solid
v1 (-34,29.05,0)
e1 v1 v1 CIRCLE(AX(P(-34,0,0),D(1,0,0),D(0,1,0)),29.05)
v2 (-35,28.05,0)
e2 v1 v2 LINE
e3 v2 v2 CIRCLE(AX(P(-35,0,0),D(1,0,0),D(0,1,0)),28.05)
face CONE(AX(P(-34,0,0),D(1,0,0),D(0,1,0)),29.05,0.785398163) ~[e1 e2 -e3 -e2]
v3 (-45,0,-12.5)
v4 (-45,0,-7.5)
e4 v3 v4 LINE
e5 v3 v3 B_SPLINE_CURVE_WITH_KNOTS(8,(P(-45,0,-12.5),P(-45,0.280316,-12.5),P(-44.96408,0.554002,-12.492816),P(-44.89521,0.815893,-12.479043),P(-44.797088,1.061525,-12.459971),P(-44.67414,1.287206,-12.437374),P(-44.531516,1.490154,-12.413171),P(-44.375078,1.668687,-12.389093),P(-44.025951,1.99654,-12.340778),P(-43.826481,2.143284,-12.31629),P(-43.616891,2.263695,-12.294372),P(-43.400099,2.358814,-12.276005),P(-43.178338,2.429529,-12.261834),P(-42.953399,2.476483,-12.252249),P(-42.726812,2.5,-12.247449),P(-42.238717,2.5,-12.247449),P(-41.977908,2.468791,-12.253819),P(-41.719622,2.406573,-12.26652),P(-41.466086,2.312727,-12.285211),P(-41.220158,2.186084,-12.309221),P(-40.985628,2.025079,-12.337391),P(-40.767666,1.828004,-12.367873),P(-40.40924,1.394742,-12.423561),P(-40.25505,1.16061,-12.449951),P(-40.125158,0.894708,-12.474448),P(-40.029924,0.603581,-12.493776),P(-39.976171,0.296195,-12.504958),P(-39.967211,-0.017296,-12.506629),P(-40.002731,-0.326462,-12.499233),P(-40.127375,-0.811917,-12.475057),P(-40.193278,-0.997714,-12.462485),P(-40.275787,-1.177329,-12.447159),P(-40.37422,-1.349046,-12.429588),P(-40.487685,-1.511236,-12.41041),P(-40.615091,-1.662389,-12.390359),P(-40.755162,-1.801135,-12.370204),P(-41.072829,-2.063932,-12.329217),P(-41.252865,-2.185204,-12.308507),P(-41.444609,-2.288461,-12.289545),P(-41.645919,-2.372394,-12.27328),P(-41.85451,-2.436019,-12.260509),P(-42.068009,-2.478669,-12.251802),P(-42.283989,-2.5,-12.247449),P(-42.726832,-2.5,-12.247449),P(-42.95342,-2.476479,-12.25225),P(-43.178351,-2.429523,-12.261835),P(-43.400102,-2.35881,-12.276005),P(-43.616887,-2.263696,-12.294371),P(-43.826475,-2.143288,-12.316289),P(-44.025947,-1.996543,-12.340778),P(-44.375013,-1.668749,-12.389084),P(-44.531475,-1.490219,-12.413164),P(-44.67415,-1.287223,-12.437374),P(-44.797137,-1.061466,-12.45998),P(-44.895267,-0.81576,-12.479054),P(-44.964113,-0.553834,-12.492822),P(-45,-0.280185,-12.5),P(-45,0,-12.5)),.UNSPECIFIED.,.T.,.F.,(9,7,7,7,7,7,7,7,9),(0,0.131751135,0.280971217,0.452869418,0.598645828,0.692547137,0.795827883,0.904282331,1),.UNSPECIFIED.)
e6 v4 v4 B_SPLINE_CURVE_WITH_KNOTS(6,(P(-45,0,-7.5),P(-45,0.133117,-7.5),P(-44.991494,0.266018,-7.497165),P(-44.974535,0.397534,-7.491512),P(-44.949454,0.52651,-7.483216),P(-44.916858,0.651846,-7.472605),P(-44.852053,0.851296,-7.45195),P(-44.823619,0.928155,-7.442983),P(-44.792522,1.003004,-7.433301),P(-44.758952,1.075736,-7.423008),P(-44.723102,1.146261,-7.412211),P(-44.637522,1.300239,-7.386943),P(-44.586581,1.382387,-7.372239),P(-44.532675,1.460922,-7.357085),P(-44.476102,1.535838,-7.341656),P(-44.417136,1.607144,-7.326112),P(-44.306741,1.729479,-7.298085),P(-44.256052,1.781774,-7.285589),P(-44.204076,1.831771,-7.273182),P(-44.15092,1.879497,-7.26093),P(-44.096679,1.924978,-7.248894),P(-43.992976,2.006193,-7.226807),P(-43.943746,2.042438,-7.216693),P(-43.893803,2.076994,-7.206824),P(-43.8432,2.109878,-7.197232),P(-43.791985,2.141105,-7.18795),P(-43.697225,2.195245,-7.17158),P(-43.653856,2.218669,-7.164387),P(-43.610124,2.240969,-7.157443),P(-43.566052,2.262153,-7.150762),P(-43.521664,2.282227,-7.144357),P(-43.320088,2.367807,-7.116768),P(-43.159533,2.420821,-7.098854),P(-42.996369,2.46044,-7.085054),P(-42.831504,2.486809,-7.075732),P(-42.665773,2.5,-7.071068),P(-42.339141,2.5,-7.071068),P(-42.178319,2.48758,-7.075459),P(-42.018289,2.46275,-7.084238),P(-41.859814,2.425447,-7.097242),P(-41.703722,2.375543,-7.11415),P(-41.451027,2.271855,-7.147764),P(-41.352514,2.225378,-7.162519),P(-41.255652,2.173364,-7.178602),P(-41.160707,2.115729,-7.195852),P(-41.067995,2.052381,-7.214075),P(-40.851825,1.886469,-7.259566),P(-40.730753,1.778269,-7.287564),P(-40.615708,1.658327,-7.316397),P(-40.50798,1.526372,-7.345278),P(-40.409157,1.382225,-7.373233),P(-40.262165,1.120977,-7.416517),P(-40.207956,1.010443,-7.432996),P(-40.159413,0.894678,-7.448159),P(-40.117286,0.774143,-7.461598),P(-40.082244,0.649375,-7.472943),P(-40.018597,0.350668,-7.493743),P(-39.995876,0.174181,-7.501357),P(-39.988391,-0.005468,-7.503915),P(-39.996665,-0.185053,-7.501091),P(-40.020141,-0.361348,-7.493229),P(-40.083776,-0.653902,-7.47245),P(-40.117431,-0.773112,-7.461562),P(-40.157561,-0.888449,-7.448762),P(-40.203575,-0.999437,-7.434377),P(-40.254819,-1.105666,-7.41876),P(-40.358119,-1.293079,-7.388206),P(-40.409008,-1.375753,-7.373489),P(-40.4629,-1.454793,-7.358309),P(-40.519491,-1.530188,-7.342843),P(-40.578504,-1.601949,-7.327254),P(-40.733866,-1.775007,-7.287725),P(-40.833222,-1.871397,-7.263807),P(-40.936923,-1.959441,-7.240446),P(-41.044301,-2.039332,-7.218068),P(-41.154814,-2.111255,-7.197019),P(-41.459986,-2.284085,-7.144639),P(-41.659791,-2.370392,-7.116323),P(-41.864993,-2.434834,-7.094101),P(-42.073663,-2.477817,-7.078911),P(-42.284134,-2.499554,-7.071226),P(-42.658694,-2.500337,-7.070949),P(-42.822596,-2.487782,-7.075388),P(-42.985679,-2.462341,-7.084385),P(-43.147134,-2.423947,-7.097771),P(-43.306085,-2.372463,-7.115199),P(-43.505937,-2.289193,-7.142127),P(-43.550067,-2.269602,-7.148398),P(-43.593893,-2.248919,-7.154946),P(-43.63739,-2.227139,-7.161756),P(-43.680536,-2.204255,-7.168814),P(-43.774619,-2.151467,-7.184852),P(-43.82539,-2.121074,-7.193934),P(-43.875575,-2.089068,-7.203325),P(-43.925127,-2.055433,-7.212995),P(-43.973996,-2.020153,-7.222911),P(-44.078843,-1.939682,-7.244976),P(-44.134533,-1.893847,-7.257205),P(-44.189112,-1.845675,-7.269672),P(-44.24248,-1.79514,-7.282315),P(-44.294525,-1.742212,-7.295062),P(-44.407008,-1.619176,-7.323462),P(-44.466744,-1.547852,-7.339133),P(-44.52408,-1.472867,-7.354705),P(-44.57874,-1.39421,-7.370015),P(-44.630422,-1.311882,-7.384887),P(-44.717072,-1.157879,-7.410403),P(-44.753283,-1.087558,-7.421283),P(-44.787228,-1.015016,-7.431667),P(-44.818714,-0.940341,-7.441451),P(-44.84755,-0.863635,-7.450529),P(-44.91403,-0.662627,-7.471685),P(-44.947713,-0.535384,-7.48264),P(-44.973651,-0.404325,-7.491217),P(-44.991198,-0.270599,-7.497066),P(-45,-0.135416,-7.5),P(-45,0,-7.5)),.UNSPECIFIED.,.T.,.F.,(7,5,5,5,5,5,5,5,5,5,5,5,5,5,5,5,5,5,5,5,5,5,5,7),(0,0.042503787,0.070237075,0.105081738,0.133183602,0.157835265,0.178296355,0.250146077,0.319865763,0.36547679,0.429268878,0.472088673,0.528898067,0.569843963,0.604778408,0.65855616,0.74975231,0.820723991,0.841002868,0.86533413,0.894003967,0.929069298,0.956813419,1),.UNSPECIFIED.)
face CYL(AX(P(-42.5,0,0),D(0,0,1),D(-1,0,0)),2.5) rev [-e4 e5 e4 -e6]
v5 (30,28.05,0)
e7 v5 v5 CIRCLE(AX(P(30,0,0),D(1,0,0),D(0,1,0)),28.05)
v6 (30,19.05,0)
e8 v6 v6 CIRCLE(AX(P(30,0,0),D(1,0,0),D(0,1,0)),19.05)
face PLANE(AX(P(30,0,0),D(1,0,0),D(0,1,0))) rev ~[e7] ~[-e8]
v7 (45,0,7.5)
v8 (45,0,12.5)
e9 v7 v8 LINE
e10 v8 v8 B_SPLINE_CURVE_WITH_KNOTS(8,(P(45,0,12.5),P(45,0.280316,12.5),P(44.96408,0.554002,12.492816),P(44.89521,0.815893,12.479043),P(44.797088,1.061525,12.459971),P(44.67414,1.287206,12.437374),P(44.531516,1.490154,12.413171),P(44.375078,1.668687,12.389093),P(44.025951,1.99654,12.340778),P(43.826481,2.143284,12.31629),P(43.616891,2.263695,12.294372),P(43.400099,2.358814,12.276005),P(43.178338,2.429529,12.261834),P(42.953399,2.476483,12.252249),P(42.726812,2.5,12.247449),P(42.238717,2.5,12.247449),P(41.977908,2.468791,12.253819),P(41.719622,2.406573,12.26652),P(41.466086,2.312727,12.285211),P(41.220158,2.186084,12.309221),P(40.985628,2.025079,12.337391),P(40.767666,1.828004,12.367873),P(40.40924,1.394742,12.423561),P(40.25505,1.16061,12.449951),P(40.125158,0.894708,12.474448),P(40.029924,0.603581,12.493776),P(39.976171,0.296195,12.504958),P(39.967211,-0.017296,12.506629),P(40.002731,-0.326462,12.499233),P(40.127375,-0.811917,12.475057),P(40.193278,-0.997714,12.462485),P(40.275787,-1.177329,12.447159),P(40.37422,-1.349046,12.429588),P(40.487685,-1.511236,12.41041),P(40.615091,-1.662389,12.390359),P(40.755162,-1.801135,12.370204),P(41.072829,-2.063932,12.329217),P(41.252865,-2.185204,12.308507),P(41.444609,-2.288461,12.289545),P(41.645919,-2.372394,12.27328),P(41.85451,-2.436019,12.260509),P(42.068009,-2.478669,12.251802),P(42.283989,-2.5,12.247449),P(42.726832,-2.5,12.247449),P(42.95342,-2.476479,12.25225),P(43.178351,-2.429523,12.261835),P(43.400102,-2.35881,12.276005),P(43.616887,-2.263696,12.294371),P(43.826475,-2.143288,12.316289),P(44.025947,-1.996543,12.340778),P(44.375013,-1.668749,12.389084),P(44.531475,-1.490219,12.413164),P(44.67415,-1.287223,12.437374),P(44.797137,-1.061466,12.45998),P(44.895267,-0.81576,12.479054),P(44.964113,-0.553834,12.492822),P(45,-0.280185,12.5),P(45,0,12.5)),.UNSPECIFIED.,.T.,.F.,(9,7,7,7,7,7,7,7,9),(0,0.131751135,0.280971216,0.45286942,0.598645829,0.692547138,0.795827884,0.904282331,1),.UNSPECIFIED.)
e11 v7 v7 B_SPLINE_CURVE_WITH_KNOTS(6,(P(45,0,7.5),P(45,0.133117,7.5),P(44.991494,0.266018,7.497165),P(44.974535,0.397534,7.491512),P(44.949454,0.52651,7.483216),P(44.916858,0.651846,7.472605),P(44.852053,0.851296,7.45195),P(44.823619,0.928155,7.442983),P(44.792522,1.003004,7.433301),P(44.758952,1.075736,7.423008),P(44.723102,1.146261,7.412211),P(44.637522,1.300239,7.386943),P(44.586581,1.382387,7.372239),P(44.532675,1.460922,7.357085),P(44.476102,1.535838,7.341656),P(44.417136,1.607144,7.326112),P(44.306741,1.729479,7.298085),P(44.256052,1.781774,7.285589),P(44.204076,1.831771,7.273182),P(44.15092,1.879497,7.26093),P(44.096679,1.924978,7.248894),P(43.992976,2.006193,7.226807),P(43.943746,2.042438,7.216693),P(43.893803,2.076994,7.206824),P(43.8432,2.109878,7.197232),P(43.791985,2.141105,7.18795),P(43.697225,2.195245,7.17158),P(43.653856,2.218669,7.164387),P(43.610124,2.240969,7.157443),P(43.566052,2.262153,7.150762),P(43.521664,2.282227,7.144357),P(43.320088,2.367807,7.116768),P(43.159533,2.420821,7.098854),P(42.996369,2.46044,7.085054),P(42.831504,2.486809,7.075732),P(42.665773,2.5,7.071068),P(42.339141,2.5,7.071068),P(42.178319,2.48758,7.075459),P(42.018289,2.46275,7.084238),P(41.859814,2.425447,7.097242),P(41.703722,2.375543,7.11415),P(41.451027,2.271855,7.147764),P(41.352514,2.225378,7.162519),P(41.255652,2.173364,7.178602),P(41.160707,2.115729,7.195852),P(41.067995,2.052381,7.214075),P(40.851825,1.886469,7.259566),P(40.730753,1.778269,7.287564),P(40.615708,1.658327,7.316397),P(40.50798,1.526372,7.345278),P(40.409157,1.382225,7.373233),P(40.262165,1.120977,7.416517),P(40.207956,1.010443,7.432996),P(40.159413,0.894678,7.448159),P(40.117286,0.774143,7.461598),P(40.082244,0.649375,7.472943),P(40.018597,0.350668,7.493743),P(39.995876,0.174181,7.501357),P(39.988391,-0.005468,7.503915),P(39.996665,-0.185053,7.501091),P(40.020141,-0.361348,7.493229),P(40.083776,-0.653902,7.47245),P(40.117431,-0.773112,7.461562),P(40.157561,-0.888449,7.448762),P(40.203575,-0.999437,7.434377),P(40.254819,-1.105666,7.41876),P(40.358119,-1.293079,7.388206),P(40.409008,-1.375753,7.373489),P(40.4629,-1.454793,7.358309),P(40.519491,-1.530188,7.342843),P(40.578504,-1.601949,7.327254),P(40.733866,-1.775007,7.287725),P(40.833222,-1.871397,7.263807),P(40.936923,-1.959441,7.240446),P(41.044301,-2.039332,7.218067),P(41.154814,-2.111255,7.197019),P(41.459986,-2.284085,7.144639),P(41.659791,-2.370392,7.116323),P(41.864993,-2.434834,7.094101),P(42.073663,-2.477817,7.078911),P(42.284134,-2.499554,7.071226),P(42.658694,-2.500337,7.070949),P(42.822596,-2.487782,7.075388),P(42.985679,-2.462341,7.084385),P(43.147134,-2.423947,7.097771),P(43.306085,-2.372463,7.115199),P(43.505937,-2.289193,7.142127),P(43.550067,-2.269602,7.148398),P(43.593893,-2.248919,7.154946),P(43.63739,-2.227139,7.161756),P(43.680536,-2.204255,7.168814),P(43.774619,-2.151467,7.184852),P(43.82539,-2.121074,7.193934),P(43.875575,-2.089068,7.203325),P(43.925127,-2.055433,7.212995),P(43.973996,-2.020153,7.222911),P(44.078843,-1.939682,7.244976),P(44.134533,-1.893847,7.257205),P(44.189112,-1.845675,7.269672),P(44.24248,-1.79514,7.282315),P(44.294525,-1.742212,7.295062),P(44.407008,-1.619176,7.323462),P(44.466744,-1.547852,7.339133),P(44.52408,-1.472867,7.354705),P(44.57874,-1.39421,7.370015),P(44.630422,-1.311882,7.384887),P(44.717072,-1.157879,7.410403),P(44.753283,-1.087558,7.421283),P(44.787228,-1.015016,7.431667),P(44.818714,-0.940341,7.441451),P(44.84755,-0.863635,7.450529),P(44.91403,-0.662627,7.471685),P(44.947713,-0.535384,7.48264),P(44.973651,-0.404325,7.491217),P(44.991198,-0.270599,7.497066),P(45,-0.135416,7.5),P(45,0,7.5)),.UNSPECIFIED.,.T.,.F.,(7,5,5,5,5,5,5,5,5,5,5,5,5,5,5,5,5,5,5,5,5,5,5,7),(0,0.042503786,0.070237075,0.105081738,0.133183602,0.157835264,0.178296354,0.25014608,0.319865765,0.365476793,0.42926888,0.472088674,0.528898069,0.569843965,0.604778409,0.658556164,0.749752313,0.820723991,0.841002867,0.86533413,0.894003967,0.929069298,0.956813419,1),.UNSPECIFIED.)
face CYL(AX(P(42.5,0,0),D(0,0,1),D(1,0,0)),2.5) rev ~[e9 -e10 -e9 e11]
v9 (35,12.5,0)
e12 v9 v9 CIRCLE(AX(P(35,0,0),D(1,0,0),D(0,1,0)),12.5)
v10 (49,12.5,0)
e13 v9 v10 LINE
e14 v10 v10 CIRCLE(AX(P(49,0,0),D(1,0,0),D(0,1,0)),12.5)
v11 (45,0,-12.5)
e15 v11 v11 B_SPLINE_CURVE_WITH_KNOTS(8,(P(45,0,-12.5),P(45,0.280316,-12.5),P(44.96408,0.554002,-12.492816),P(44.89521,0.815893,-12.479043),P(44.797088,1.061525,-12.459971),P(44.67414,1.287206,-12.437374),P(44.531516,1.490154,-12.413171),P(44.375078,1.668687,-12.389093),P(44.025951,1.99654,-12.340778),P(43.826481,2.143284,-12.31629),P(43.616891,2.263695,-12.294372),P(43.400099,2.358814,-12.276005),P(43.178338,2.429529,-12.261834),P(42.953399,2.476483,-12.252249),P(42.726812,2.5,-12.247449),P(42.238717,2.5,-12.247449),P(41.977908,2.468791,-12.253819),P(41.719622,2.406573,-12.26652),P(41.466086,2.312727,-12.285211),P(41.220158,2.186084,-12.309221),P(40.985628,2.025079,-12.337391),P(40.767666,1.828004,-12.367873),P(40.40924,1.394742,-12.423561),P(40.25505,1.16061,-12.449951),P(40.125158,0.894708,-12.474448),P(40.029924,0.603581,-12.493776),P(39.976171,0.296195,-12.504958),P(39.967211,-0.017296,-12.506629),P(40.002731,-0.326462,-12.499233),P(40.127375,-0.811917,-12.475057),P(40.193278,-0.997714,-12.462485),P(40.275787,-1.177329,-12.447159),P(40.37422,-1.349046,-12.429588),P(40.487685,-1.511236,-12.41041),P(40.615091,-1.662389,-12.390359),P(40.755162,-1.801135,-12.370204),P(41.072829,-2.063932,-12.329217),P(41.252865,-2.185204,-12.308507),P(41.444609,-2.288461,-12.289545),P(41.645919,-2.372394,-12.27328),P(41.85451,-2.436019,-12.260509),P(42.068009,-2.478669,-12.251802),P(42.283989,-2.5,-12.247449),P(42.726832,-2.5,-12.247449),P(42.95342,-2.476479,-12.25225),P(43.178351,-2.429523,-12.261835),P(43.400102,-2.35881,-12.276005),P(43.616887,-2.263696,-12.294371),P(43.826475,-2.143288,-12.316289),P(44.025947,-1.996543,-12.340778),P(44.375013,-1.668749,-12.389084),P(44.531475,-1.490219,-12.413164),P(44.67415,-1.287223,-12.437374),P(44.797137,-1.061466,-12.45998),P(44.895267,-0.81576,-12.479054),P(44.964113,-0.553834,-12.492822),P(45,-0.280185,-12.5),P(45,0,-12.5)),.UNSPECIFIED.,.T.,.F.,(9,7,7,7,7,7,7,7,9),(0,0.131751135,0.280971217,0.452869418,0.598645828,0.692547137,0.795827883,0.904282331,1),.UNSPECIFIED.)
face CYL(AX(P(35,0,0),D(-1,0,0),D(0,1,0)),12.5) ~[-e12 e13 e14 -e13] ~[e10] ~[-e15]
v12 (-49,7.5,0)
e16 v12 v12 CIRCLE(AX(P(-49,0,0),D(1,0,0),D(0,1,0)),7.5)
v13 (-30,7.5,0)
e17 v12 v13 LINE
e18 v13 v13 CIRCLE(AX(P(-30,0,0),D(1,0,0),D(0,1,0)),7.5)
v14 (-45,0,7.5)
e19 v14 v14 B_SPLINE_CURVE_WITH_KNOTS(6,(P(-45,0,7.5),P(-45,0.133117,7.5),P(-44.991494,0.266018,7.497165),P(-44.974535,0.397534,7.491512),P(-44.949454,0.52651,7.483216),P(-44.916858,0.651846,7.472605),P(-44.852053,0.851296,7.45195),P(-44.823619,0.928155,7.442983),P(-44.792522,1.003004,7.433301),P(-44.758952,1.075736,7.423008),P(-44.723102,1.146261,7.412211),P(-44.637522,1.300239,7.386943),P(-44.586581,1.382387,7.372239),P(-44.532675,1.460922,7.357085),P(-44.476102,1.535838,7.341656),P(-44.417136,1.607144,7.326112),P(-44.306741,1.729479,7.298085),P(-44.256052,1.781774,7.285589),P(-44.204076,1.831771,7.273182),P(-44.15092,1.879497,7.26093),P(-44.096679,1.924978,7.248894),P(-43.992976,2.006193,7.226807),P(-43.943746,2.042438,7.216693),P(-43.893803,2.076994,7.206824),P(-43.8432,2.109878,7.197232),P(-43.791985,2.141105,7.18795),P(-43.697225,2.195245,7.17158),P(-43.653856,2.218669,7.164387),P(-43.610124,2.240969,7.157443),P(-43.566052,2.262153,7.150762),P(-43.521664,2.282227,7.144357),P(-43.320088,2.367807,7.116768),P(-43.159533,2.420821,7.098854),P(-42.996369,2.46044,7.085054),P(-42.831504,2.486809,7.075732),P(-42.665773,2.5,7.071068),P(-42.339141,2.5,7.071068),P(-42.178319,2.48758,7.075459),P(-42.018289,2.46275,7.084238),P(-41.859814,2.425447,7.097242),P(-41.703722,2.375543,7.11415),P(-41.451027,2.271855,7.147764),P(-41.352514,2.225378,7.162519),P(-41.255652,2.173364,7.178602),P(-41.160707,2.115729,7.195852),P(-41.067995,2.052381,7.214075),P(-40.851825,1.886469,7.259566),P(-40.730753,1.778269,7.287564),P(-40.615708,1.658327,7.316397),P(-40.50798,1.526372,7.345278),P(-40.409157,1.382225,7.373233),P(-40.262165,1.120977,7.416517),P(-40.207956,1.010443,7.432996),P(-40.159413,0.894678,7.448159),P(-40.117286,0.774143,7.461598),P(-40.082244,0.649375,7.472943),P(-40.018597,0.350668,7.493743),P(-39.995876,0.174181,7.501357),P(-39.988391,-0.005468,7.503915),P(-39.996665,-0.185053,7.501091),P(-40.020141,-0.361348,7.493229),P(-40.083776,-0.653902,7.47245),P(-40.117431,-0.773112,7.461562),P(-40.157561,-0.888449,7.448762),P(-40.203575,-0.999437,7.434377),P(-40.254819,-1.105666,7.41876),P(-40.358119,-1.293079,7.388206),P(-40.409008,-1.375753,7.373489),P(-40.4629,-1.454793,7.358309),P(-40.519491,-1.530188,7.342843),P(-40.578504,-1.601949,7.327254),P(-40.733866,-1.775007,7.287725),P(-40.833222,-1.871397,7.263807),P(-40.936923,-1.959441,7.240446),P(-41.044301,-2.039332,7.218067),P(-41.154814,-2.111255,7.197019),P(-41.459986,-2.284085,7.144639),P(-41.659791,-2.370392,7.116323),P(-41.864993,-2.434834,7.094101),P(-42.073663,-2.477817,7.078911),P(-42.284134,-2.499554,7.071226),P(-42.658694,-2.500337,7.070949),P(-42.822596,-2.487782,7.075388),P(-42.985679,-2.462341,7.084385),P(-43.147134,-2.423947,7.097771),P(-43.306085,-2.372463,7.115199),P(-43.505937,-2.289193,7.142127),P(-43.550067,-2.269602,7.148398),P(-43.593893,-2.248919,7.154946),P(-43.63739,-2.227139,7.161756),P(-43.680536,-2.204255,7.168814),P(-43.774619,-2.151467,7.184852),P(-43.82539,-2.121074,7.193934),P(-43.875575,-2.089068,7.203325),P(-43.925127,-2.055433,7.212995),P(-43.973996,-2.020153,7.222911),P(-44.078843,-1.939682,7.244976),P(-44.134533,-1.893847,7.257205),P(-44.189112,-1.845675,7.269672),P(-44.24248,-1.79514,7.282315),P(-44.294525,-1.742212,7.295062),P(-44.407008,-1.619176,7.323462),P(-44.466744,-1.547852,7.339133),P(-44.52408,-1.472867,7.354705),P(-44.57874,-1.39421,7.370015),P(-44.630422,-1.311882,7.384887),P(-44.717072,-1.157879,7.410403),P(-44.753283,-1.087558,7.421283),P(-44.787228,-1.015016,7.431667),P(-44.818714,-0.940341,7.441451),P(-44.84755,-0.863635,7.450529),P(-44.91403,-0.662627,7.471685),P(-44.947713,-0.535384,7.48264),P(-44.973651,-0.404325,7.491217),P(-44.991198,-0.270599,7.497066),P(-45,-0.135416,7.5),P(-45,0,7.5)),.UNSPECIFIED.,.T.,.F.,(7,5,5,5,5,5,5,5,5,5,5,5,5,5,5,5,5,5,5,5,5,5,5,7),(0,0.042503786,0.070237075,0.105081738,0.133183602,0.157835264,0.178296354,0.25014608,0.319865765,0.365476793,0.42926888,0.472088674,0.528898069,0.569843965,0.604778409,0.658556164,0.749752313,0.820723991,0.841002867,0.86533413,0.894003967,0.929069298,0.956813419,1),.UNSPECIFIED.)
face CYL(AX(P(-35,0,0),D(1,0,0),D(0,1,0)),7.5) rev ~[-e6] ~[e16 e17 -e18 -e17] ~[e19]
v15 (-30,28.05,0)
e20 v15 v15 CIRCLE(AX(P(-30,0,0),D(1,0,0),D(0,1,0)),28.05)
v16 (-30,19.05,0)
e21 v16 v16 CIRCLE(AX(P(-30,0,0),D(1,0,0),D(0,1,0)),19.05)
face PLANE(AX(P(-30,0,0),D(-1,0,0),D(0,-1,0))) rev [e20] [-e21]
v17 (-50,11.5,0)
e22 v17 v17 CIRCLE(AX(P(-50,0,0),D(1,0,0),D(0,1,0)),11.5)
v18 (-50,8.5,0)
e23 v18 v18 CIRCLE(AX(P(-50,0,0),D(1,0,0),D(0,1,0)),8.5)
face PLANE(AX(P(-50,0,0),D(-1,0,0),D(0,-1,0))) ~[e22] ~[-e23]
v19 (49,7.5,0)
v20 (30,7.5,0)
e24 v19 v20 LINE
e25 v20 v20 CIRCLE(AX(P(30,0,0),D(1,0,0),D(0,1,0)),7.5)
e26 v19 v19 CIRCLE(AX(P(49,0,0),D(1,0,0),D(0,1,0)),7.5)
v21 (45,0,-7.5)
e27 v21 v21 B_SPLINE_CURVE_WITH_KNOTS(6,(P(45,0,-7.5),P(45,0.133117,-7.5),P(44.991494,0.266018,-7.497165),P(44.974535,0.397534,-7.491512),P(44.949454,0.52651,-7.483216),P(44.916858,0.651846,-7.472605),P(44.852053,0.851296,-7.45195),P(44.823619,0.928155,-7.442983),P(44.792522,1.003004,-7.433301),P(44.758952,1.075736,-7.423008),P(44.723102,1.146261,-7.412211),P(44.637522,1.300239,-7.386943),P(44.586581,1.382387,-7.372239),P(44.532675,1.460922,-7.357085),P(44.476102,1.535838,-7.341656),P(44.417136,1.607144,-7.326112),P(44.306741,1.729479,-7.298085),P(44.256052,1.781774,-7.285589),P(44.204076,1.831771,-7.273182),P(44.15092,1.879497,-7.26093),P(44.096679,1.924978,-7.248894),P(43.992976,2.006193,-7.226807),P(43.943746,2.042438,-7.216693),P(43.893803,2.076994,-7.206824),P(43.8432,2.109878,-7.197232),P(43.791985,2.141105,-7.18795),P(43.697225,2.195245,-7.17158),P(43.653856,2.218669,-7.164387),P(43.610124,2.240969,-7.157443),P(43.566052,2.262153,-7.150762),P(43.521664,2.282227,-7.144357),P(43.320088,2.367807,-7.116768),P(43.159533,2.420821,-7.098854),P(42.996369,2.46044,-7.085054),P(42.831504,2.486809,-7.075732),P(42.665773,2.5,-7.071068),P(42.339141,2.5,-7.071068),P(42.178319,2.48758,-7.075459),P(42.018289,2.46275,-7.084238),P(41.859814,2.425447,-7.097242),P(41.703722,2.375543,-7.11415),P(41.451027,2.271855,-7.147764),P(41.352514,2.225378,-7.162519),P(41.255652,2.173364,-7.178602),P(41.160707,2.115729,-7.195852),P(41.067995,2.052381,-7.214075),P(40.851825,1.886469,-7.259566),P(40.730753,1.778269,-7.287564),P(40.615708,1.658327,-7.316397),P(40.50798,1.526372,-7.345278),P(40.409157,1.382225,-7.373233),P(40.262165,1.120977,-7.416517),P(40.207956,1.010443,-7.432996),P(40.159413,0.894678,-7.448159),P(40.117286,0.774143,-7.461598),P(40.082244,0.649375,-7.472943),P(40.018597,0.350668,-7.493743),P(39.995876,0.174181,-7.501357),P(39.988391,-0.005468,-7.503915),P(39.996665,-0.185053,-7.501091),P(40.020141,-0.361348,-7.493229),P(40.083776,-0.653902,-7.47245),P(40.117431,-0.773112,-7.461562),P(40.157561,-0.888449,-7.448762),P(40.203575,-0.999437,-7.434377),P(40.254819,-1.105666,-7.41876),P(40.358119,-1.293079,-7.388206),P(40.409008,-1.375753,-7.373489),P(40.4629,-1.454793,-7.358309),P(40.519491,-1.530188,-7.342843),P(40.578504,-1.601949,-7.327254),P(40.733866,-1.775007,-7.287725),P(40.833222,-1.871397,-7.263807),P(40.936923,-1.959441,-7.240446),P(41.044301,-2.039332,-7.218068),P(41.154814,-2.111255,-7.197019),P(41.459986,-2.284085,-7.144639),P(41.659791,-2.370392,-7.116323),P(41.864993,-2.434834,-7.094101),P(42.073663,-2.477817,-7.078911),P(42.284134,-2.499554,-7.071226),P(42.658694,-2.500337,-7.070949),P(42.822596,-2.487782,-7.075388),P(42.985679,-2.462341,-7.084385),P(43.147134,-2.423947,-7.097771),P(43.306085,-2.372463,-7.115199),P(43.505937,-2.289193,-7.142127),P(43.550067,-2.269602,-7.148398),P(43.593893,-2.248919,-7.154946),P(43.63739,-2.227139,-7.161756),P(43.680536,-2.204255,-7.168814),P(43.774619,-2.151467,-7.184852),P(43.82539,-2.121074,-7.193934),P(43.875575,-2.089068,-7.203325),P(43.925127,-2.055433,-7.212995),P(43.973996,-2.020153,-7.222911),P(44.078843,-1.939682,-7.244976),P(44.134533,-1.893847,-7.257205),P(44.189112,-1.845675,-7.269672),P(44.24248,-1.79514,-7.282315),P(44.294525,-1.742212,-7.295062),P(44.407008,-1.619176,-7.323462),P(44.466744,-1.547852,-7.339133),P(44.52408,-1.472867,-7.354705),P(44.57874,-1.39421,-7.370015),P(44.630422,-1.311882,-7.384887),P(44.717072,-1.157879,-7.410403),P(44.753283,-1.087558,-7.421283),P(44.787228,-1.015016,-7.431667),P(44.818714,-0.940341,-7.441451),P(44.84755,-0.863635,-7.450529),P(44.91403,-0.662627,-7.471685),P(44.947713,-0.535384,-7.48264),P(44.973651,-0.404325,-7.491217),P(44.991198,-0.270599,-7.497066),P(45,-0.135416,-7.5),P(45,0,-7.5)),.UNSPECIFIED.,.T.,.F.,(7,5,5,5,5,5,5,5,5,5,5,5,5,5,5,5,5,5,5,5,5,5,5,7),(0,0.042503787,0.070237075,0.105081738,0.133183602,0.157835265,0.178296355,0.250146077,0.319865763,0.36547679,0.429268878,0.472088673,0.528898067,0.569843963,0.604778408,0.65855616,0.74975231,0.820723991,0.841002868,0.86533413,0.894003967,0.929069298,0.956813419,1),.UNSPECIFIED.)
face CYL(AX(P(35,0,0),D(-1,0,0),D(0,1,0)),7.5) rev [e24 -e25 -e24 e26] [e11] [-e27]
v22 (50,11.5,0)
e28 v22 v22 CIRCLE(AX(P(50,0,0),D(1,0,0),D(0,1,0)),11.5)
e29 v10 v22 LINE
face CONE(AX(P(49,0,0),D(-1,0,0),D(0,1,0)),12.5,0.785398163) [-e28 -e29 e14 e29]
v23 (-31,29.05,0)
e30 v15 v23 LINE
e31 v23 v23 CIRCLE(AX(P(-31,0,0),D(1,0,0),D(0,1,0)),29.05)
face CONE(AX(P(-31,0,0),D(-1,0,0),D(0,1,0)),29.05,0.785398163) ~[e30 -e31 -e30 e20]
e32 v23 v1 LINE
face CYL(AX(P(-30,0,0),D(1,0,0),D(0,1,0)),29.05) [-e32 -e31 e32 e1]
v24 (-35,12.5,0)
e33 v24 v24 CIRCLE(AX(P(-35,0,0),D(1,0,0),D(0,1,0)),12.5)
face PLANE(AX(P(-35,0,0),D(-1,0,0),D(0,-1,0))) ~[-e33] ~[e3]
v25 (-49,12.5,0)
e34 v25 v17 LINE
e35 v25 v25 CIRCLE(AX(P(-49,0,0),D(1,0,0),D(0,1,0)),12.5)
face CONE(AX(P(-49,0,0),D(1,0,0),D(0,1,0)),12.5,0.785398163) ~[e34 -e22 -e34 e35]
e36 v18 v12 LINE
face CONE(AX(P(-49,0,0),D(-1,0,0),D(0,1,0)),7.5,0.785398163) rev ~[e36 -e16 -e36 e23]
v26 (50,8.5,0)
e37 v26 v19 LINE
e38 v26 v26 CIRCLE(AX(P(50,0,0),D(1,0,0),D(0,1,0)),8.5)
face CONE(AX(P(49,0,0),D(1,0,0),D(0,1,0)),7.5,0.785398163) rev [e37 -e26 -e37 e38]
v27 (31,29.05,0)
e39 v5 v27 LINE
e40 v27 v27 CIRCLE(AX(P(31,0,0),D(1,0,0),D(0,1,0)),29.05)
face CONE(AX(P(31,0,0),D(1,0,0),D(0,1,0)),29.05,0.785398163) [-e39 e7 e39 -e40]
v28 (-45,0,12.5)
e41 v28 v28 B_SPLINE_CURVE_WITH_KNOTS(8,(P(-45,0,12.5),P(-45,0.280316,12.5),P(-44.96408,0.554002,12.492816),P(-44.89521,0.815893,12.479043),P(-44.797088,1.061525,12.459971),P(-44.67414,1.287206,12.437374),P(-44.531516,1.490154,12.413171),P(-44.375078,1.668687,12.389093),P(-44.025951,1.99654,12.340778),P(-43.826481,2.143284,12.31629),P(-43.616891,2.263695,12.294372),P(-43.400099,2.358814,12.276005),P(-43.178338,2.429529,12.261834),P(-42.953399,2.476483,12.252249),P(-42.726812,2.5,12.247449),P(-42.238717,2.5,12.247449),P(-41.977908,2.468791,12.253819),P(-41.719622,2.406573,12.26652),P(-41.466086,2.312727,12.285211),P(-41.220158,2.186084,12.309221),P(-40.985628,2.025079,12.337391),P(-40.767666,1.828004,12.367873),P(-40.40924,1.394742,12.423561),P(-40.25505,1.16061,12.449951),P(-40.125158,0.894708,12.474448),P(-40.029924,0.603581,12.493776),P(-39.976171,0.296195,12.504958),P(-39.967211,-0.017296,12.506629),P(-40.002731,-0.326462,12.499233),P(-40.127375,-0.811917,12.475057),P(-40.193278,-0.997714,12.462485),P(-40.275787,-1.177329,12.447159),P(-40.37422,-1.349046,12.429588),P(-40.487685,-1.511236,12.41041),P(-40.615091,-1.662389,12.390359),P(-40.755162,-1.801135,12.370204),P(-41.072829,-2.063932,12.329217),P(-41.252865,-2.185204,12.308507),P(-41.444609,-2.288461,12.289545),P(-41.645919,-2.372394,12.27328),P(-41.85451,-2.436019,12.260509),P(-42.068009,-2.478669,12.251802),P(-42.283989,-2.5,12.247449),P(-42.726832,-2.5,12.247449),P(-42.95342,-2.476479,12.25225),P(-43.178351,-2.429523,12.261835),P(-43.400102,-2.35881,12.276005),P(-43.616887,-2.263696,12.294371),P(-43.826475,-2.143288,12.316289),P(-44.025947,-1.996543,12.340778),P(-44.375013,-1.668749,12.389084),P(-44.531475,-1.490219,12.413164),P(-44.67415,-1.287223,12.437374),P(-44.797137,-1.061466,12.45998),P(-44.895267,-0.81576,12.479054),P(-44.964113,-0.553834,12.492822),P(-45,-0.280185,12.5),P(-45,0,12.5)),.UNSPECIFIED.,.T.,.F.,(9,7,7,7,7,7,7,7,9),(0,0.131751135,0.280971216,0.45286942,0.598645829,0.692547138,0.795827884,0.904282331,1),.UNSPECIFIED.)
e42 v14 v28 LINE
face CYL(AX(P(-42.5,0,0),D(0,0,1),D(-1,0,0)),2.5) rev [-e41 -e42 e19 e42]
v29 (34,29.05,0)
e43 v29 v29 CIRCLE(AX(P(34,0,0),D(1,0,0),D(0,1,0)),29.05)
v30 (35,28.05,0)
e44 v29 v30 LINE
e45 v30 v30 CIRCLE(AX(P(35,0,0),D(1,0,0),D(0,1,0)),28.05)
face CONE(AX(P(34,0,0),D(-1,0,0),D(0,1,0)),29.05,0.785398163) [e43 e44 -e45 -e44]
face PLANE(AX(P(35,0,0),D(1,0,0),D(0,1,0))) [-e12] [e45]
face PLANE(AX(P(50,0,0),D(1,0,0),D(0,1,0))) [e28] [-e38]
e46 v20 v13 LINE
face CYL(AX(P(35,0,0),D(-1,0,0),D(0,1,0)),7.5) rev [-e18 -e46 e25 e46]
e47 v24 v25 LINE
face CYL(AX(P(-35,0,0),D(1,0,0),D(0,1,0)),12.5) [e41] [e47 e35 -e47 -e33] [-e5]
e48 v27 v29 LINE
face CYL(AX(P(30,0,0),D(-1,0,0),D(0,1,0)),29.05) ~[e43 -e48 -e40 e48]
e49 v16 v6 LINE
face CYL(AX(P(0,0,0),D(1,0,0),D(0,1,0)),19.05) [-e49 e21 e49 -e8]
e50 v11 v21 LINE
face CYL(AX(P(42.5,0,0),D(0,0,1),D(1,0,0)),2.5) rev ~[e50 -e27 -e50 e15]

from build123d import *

# Parameters (mm, degrees)
F0_R     = 19.05
F0_R_2   = 7.5
F1_DEPTH = 30
F2_R     = 29.05
F2_R_2   = 7.5
F3_DEPTH = 5
F4_R     = 12.5
F4_R_2   = 7.5
F5_DEPTH = 15
F6_SIZE  = 1
F7_R     = 2.5
F8_DEPTH = 25


with BuildPart() as f1:
    # F0 (on Right) → F1 (new body, symmetric)
    with BuildSketch(Plane.YZ):
        Circle(F0_R)
        Circle(F0_R_2, mode=Mode.SUBTRACT)
    extrude(amount=F1_DEPTH, both=True)

    # F2 (on face) → F3 (join)
    with BuildSketch(Plane.YZ.offset(30)):
        Circle(F2_R)
        Circle(F2_R_2, mode=Mode.SUBTRACT)
    extrude(amount=F3_DEPTH)

    # F4 (on face) → F5 (join)
    with BuildSketch(Plane.YZ.offset(35)):
        Circle(F4_R)
        Circle(F4_R_2, mode=Mode.SUBTRACT)
    extrude(amount=F5_DEPTH)

    # F6
    f6_edges = [f1.edges().sort_by_distance(p)[0] for p in [
        (35, -29.05, 0),
        (30, -29.05, 0),
        (50, -12.5, 0),
        (50, -7.5, 0),
    ]]
    chamfer(f6_edges, length=F6_SIZE)

    # F7 (on Top) → F8 (cut, symmetric)
    with BuildSketch(Plane.XY):
        with Locations((42.5, 0)):
            Circle(F7_R)
    extrude(amount=F8_DEPTH, both=True, mode=Mode.SUBTRACT)

    # F9: F1 across plane


with BuildPart() as f1_1:
    add(f1.part)
    add(f1.part.mirror(Plane.YZ))


solid = f1_1.part
